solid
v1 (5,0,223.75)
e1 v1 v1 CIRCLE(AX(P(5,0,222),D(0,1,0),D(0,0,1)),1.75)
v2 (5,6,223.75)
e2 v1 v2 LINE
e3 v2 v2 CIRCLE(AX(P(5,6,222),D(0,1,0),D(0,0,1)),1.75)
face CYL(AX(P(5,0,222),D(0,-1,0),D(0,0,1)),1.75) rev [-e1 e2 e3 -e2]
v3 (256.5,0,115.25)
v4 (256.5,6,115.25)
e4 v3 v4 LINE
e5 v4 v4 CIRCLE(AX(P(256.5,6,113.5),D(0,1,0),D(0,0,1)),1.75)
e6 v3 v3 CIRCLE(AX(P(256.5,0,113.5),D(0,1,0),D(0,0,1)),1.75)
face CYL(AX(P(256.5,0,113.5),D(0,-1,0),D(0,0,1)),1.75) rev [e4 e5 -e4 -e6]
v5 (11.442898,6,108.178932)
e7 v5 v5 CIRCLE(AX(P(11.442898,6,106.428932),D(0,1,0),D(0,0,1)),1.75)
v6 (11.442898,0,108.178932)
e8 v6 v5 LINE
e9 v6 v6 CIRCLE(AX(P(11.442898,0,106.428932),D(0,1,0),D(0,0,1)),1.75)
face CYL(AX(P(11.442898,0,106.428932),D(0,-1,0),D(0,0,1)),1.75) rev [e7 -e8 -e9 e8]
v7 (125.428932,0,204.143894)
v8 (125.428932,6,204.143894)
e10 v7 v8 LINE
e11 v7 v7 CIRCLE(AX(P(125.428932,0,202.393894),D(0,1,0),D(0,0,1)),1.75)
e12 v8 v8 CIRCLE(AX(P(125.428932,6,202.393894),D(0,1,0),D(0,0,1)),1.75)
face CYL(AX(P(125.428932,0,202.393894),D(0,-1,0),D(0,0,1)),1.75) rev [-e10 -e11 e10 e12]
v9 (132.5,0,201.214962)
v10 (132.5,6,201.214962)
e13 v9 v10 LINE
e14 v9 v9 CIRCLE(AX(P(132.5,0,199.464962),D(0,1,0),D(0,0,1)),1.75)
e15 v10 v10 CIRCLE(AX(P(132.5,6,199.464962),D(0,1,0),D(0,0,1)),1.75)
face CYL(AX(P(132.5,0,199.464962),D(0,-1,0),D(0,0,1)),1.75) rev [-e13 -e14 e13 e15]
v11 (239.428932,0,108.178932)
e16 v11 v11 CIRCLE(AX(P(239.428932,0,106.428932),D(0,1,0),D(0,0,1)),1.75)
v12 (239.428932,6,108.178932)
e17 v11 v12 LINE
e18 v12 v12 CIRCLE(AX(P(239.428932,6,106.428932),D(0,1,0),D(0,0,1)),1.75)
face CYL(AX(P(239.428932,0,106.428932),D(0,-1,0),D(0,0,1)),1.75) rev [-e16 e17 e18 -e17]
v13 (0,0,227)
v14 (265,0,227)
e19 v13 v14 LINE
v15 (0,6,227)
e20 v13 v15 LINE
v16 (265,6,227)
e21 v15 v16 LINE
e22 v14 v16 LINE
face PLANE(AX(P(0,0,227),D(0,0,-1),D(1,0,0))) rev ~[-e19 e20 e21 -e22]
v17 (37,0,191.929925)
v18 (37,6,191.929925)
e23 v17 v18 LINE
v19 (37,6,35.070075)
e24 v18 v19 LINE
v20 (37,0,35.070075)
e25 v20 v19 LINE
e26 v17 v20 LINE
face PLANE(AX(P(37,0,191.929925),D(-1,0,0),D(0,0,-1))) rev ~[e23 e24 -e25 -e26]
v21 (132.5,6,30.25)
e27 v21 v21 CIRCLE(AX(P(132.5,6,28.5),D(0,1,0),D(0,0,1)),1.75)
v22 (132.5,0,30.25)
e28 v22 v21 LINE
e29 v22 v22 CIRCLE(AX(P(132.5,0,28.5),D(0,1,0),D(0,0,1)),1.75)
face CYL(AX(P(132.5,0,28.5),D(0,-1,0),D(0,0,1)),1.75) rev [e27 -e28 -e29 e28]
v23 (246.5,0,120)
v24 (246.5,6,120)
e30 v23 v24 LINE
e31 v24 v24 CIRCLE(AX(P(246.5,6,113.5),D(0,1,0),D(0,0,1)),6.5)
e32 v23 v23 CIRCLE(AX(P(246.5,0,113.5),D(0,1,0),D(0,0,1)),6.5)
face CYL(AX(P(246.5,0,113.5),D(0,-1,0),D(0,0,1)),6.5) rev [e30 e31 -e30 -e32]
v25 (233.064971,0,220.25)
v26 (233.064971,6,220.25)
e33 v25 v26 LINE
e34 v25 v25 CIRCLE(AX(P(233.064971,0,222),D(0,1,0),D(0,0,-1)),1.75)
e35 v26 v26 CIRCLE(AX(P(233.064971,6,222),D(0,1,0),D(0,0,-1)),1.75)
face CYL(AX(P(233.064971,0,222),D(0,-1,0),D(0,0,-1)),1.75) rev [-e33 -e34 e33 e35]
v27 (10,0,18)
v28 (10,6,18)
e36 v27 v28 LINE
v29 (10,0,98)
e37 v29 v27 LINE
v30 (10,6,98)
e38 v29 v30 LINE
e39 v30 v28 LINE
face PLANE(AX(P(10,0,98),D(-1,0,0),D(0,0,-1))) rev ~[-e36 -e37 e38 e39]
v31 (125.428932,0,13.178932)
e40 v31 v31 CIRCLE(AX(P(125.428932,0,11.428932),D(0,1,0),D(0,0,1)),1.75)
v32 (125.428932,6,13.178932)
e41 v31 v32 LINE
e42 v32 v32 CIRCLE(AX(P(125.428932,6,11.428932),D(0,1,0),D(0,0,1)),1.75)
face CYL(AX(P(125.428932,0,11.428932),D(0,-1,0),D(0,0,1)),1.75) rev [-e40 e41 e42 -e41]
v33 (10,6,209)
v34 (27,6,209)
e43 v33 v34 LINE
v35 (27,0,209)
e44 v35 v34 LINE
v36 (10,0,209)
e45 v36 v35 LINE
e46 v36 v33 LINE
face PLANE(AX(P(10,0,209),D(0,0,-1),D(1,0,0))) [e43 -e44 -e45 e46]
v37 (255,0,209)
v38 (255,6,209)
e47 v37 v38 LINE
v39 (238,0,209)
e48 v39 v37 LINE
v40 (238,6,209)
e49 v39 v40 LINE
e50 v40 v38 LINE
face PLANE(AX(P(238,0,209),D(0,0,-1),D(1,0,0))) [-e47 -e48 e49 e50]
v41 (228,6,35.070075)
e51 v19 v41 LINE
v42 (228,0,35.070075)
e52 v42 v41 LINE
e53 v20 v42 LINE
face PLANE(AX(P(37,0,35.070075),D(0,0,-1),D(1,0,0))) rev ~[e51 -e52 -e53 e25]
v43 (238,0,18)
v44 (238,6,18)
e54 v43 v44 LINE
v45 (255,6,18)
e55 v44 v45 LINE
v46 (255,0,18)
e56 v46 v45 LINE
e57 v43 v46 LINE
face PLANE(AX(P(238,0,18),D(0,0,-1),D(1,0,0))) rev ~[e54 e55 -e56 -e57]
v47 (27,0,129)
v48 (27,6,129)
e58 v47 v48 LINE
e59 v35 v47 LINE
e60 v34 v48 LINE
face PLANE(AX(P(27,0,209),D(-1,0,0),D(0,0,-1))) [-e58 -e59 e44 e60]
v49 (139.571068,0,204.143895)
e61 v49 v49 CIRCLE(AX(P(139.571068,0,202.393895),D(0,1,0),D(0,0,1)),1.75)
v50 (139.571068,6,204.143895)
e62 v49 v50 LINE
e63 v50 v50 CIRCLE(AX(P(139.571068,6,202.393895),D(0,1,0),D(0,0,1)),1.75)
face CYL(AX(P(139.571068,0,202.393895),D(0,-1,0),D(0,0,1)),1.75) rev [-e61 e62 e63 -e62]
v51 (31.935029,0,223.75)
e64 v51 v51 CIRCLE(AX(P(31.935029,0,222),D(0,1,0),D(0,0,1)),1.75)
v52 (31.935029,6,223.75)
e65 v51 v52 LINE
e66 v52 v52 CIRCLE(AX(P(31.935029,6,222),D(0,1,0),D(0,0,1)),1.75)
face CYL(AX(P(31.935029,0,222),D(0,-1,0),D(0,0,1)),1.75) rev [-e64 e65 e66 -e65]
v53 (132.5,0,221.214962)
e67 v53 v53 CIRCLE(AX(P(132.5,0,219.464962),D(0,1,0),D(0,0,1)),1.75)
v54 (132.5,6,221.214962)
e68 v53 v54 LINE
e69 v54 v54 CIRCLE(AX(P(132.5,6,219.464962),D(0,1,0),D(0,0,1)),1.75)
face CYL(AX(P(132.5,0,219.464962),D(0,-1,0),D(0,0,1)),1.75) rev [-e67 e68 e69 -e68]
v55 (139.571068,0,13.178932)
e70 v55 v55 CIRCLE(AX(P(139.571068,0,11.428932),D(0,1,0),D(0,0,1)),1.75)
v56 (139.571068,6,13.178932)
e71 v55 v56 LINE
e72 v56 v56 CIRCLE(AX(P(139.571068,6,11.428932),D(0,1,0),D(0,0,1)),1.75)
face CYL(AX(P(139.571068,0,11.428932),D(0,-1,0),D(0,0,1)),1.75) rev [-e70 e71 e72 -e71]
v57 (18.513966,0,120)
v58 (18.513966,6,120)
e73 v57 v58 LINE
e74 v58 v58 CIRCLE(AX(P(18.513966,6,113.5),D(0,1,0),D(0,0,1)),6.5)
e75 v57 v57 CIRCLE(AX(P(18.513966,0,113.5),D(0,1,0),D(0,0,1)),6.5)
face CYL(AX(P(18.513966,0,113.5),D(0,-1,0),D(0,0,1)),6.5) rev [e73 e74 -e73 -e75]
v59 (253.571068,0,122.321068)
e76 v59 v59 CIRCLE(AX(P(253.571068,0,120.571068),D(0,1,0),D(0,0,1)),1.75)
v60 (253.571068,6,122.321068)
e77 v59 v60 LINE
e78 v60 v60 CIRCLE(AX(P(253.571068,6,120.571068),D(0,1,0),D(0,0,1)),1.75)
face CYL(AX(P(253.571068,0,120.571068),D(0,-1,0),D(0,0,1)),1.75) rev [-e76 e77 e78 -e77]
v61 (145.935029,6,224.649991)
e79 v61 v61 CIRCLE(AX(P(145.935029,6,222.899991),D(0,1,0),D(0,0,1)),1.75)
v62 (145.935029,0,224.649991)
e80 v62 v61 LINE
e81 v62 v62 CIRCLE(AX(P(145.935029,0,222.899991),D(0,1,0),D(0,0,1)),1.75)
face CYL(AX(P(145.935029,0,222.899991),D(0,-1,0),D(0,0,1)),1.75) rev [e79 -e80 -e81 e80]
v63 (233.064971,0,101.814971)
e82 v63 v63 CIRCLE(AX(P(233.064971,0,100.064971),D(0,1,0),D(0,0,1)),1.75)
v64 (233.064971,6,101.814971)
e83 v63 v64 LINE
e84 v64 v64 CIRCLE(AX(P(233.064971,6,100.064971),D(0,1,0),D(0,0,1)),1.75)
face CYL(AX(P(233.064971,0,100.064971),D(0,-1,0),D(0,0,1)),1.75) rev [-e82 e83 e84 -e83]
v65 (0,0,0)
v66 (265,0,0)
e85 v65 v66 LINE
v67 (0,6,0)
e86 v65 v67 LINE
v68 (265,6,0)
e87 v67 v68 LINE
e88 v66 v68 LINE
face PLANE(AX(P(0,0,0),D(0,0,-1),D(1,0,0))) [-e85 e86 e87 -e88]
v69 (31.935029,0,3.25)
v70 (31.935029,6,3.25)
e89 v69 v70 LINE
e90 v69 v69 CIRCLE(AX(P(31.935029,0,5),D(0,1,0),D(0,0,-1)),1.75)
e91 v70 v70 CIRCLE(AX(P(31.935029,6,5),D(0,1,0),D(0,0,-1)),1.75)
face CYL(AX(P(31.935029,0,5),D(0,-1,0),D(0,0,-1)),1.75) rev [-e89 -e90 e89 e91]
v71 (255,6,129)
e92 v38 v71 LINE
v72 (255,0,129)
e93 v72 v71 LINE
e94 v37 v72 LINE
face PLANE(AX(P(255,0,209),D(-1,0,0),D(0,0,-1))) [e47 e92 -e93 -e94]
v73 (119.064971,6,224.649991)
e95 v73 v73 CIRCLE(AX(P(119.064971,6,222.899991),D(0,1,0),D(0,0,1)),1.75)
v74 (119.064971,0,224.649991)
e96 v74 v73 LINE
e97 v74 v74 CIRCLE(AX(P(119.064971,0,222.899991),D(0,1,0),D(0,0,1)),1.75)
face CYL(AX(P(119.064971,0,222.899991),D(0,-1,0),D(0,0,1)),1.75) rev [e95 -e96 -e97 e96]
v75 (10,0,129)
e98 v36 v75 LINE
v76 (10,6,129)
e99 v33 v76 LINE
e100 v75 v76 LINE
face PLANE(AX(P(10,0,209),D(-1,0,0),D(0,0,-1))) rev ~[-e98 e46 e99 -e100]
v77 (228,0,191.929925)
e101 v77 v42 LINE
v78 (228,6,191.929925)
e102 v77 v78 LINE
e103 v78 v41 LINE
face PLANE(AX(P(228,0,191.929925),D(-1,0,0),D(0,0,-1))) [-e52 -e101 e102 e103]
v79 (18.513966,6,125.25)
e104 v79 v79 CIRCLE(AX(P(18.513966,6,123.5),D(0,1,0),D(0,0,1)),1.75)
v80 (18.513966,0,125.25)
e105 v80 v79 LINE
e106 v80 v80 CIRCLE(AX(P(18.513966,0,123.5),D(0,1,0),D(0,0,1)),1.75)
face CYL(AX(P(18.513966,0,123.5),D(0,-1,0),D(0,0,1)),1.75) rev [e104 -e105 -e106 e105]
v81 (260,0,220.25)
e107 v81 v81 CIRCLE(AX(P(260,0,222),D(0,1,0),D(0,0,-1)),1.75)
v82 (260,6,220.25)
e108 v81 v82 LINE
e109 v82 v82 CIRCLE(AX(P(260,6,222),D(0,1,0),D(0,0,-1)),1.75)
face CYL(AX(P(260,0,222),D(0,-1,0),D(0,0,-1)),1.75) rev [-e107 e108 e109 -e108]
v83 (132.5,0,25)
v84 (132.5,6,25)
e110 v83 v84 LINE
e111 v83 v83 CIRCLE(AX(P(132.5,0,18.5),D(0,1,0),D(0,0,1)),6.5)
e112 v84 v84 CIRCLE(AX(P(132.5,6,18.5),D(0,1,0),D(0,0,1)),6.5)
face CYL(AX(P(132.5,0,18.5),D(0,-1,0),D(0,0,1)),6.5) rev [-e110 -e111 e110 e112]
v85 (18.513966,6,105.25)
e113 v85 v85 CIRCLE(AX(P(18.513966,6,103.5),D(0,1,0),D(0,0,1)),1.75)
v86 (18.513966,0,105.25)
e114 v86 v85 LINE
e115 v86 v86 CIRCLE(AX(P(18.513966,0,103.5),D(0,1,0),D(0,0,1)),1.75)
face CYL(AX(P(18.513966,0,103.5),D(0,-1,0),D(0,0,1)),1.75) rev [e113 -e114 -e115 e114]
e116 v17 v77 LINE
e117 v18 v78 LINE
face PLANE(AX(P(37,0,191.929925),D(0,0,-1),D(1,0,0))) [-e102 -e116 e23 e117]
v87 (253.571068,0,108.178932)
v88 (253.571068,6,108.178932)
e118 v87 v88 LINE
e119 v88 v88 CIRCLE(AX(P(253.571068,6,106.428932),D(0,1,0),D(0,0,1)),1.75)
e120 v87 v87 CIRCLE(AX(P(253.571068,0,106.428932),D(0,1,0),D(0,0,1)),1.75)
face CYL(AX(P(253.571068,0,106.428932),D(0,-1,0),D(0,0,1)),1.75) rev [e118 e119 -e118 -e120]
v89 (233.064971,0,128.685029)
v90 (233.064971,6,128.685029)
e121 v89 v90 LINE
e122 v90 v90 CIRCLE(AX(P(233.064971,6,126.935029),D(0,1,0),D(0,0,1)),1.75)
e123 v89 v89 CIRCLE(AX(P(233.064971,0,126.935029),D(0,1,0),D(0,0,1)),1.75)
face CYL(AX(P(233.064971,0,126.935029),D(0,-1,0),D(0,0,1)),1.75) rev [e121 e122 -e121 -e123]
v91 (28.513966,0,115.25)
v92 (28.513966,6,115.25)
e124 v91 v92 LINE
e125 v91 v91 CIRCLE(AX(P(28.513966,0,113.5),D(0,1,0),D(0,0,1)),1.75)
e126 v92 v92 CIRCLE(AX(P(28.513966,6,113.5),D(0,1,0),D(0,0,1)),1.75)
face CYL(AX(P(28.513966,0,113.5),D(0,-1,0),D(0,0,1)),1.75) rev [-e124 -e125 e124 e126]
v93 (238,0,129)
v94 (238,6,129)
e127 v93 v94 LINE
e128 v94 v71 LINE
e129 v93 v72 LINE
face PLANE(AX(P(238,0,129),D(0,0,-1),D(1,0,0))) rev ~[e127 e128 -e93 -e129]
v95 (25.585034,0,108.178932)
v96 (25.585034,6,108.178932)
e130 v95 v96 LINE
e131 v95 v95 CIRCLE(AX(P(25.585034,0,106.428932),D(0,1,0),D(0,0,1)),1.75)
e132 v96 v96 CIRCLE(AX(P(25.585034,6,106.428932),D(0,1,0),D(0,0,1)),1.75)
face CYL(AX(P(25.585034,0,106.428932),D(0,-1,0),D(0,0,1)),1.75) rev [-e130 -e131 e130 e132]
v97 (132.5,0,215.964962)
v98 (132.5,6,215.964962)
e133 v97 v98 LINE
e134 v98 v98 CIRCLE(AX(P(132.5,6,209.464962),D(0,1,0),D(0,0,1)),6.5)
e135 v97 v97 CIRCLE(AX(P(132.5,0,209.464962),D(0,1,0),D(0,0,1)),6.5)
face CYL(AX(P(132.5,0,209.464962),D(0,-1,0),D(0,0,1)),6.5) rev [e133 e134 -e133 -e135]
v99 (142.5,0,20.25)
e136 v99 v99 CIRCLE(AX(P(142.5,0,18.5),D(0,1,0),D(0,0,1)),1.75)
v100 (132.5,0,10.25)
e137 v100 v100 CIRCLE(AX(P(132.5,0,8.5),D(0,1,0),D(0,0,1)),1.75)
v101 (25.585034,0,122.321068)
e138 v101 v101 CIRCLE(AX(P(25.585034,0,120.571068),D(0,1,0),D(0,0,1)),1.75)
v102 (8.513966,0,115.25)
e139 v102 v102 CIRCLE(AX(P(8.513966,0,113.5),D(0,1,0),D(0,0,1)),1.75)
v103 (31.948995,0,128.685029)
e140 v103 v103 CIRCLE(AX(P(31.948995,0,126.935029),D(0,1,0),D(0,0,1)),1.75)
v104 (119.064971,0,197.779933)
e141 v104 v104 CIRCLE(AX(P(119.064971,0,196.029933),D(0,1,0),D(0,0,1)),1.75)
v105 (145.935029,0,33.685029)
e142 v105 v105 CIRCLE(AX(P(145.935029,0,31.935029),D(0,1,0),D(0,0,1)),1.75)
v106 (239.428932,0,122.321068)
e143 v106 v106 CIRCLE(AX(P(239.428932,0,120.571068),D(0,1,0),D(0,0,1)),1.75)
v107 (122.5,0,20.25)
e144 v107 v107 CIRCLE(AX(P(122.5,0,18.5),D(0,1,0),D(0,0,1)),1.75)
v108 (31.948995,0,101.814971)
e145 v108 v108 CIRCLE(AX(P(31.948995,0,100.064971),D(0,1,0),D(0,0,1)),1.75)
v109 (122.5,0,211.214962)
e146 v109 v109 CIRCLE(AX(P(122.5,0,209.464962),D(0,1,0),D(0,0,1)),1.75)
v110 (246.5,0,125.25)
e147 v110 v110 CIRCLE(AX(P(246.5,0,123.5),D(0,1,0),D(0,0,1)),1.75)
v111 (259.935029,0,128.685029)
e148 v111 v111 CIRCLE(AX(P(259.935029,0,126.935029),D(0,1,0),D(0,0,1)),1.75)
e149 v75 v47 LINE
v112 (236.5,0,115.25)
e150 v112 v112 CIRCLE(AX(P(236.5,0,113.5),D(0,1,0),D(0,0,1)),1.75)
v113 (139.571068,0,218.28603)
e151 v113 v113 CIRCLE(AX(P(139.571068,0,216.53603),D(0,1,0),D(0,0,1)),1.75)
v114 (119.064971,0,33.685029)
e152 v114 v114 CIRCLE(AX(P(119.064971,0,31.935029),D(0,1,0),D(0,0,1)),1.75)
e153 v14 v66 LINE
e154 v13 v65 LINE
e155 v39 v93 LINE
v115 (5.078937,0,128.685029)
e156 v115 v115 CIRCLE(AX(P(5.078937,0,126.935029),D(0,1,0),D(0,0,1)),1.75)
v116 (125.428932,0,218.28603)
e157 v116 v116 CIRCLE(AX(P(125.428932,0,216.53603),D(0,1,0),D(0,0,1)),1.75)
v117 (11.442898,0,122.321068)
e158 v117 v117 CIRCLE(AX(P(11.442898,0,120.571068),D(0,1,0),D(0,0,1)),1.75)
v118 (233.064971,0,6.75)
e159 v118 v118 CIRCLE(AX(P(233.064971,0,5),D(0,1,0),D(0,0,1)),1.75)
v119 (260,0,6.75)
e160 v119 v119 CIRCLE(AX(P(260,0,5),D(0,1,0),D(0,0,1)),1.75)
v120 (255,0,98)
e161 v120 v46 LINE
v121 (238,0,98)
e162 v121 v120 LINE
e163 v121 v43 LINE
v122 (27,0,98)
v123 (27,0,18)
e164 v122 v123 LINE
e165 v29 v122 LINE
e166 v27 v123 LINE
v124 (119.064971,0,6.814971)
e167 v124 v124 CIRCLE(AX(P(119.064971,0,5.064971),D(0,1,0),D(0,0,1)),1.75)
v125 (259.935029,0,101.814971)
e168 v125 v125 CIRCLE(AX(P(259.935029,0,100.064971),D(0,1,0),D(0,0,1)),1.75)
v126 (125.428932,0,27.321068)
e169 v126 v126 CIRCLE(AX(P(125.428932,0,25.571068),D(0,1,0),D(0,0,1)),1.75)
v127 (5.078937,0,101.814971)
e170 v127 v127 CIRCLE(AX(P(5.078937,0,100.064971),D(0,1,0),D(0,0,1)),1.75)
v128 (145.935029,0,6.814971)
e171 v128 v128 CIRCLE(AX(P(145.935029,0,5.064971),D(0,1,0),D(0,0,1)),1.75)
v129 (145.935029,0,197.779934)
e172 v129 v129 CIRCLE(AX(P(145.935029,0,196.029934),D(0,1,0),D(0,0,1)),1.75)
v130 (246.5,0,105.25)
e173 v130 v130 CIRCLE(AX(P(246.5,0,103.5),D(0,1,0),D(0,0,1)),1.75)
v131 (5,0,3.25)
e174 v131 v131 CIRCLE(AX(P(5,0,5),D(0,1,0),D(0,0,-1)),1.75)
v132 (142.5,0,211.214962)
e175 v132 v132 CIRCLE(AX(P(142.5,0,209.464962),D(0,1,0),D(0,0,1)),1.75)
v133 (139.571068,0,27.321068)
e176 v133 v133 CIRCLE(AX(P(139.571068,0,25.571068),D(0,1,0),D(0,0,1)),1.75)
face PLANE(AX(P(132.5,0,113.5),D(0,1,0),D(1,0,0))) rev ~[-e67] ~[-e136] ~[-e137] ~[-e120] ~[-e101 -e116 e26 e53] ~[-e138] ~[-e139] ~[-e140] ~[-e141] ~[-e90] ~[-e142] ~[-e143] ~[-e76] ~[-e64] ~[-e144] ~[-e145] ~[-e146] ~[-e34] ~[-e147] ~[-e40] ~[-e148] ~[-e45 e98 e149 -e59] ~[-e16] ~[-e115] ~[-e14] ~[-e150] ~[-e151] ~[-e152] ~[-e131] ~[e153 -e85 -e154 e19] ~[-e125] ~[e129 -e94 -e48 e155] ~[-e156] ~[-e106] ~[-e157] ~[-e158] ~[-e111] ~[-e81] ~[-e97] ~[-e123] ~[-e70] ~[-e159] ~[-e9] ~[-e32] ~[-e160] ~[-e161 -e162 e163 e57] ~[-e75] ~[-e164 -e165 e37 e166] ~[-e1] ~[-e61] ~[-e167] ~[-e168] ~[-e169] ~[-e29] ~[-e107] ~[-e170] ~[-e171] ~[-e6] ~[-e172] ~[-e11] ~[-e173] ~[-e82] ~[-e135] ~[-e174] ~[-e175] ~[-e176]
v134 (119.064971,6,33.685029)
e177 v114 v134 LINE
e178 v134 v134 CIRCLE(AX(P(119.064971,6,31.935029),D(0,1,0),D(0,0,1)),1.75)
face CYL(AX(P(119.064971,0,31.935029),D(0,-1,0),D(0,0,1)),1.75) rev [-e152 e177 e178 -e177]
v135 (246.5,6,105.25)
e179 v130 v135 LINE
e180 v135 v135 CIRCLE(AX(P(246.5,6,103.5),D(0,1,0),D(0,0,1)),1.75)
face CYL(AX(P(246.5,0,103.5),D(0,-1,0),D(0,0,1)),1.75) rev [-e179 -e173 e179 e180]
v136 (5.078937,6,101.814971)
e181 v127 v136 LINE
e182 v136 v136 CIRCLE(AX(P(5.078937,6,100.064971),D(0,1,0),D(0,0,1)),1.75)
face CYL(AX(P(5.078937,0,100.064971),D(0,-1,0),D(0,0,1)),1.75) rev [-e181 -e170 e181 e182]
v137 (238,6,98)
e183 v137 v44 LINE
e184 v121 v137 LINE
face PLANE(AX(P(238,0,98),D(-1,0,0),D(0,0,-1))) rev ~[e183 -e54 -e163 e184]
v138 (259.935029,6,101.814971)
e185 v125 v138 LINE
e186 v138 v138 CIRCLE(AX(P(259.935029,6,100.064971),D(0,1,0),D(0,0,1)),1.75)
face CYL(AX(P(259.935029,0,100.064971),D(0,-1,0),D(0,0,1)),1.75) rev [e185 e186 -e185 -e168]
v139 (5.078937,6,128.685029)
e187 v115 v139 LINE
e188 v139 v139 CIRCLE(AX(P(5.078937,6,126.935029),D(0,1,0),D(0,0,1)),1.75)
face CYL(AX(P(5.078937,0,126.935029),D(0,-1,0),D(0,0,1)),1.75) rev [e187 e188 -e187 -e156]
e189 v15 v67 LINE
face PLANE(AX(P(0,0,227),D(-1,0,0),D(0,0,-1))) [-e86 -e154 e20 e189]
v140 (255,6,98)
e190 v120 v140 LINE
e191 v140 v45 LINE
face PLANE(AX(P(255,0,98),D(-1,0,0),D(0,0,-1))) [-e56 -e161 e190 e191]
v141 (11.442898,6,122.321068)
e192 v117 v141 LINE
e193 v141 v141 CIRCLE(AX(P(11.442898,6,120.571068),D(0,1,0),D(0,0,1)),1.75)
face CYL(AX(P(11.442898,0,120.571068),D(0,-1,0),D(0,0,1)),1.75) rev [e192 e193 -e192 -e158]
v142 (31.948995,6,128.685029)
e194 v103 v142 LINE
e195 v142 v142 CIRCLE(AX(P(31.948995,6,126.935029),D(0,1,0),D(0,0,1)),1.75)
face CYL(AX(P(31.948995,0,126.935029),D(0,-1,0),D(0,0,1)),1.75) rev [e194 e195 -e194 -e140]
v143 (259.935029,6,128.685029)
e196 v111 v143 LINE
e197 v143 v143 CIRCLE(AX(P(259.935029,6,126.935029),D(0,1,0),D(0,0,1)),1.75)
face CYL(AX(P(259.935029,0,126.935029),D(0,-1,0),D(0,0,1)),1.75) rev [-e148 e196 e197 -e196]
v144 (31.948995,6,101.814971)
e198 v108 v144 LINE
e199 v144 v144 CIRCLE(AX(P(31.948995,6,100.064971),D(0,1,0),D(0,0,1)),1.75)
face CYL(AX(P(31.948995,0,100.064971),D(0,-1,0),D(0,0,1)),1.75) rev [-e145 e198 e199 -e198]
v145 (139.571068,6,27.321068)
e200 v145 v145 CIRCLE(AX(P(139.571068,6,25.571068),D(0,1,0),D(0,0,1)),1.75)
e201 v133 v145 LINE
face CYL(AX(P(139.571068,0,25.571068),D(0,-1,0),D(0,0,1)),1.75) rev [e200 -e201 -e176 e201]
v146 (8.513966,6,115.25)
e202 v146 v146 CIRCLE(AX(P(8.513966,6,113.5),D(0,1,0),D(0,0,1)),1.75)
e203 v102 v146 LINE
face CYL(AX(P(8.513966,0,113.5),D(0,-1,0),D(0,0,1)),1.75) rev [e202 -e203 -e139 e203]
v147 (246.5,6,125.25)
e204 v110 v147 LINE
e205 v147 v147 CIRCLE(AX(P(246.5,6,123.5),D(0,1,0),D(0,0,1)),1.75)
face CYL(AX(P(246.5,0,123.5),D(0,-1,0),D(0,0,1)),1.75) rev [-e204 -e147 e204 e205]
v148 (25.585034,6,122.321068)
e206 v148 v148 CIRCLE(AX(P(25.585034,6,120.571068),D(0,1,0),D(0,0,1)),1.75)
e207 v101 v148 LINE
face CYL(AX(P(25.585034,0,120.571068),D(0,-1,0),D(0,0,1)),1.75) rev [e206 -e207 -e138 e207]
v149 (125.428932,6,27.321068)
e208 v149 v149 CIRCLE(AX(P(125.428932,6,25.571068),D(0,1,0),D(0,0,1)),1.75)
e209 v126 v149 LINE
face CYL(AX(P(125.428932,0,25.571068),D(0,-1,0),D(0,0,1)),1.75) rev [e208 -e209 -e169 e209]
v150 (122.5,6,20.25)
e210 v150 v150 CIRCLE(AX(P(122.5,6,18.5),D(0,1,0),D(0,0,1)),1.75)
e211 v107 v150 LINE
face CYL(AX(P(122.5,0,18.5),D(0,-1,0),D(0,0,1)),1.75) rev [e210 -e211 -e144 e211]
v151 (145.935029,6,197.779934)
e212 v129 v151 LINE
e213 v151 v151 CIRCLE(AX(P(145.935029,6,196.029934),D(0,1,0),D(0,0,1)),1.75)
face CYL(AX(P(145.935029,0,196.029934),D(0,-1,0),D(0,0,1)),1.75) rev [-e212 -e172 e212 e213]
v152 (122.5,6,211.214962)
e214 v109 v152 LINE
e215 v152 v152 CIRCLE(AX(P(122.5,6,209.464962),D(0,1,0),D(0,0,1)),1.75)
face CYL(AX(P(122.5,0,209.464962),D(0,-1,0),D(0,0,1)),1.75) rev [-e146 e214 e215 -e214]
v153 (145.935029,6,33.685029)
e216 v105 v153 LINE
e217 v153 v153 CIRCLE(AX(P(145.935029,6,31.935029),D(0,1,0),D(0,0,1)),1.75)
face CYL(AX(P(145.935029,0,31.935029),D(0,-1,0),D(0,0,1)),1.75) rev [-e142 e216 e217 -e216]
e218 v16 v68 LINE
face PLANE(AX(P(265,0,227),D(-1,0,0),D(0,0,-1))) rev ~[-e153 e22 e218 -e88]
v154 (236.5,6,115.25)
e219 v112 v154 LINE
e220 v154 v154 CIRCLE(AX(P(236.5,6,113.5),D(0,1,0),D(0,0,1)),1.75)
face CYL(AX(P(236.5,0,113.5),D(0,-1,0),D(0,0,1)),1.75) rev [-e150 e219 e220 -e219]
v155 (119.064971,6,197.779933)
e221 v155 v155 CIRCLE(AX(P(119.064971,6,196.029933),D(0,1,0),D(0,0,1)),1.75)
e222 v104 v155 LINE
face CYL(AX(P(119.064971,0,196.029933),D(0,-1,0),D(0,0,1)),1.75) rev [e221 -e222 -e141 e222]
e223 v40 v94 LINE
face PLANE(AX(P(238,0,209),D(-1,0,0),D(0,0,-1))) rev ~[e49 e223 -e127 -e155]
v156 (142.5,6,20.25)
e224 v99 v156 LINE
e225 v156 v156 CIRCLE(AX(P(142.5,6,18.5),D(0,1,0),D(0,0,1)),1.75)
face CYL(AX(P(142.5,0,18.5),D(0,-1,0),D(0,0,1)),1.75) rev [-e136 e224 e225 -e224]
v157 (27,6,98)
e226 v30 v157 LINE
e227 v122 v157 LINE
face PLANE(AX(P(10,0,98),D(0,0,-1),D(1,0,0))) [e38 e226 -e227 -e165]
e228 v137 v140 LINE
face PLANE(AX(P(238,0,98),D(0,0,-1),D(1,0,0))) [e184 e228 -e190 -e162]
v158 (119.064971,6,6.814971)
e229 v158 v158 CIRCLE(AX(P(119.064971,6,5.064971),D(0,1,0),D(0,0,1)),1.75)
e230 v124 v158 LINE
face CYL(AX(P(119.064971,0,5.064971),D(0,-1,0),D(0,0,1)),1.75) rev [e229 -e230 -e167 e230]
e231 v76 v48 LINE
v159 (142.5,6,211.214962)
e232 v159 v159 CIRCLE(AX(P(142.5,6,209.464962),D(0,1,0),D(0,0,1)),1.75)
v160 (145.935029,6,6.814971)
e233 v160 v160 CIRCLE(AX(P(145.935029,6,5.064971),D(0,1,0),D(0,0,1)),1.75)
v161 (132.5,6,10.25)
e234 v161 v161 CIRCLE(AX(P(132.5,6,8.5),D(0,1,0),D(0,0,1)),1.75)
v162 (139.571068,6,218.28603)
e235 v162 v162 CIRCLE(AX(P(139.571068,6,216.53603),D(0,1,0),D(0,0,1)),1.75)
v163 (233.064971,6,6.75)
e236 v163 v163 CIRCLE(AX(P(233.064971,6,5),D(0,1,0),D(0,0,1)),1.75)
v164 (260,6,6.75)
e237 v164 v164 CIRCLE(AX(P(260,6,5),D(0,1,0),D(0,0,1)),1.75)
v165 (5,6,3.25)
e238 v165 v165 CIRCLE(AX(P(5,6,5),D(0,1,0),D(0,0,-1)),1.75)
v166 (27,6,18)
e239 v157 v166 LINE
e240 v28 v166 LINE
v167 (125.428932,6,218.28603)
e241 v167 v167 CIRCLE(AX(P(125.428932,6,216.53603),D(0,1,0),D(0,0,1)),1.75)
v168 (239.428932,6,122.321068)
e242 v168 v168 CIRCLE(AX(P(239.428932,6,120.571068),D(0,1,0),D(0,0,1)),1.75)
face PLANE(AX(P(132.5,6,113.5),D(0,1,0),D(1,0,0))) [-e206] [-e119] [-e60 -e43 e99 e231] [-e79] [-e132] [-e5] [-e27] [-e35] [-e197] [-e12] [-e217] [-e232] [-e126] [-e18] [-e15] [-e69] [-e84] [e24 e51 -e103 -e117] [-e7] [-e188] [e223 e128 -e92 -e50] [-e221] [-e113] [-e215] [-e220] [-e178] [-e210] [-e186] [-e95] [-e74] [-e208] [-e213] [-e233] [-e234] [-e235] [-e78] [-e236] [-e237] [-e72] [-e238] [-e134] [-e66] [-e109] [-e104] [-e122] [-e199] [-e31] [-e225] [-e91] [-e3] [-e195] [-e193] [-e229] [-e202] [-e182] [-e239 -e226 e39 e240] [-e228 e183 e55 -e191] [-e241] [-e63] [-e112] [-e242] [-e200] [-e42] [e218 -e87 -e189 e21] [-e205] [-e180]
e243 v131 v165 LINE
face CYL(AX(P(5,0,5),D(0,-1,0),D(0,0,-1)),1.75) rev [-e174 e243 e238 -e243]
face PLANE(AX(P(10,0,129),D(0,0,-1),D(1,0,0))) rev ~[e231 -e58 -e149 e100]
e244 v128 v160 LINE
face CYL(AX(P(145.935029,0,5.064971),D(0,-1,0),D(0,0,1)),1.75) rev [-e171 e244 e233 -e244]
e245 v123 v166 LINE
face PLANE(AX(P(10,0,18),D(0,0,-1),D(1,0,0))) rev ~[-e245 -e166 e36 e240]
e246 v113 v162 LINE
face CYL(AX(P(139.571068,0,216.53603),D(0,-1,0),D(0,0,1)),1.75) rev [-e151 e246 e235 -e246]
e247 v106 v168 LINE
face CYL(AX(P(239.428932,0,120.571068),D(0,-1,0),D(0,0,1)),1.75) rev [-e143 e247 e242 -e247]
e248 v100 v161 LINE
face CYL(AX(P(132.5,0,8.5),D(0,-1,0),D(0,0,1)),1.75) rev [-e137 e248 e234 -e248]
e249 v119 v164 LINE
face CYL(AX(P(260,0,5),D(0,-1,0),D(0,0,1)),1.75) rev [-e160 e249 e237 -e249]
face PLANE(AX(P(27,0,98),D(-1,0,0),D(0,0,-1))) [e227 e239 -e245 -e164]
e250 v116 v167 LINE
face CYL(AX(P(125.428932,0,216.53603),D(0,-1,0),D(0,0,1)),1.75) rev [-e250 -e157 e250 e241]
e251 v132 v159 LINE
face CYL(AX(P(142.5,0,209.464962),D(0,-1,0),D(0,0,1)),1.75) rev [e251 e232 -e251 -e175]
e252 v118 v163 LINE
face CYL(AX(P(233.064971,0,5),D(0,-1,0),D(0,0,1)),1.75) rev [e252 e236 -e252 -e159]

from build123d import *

# Parameters (mm, degrees)
ESQUISSE1_W        = 265
ESQUISSE1_H        = 227
ESQUISSE1_R        = 6.5
ESQUISSE1_R_2      = 1.75
ESQUISSE1_R_3      = 1.749999999
ESQUISSE1_W_2      = 191
ESQUISSE1_H_2      = 156.859849262
ESQUISSE1_W_3      = 17
ESQUISSE1_H_3      = 80
BOSS_EXTRU_1_DEPTH = 6


with BuildPart() as part:
    # Esquisse1 → Boss.-Extru.1 (new body)
    with BuildSketch(Plane(origin=(0, 0, 0), x_dir=(1, 0, 0), z_dir=(0, 1, 0))):
        with Locations((132.5, -113.5)):
            Rectangle(ESQUISSE1_W, ESQUISSE1_H)
        with Locations(Location((246.5, -113.5, 0), (0, 0, 270))):
            Circle(ESQUISSE1_R, mode=Mode.SUBTRACT)
        with Locations(Location((246.5, -103.5, 0), (0, 0, 270))):
            Circle(ESQUISSE1_R_2, mode=Mode.SUBTRACT)
        with Locations(Location((253.571068024, -106.4289324, 0), (0, 0, 270))):
            Circle(ESQUISSE1_R_2, mode=Mode.SUBTRACT)
        with Locations(Location((256.5, -113.5, 0), (0, 0, 270))):
            Circle(ESQUISSE1_R_2, mode=Mode.SUBTRACT)
        with Locations(Location((253.571067812, -120.571067812, 0), (0, 0, 270))):
            Circle(ESQUISSE1_R_2, mode=Mode.SUBTRACT)
        with Locations(Location((246.5, -123.5, 0), (0, 0, 270))):
            Circle(ESQUISSE1_R_2, mode=Mode.SUBTRACT)
        with Locations(Location((239.428932188, -120.571067812, 0), (0, 0, 270))):
            Circle(ESQUISSE1_R_2, mode=Mode.SUBTRACT)
        with Locations(Location((236.5, -113.5, 0), (0, 0, 270))):
            Circle(ESQUISSE1_R_2, mode=Mode.SUBTRACT)
        with Locations(Location((239.42893238, -106.428931957, 0), (0, 0, 270))):
            Circle(ESQUISSE1_R_3, mode=Mode.SUBTRACT)
        with Locations(Location((259.935029054, -100.064971369, 0), (0, 0, 270))):
            Circle(ESQUISSE1_R_2, mode=Mode.SUBTRACT)
        with Locations(Location((259.935028843, -126.935028843, 0), (0, 0, 270))):
            Circle(ESQUISSE1_R_2, mode=Mode.SUBTRACT)
        with Locations(Location((233.064971369, -100.064970946, 0), (0, 0, 270))):
            Circle(ESQUISSE1_R_2, mode=Mode.SUBTRACT)
        with Locations(Location((233.064971157, -126.935028843, 0), (0, 0, 270))):
            Circle(ESQUISSE1_R_2, mode=Mode.SUBTRACT)
        with Locations(Location((132.5, -209.464962315, 0), (0, 0, 270))):
            Circle(ESQUISSE1_R, mode=Mode.SUBTRACT)
        with Locations(Location((132.5, -199.464962315, 0), (0, 0, 270))):
            Circle(ESQUISSE1_R_2, mode=Mode.SUBTRACT)
        with Locations(Location((139.571068024, -202.393894715, 0), (0, 0, 270))):
            Circle(ESQUISSE1_R_2, mode=Mode.SUBTRACT)
        with Locations(Location((142.5, -209.464962315, 0), (0, 0, 270))):
            Circle(ESQUISSE1_R_2, mode=Mode.SUBTRACT)
        with Locations(Location((139.571067812, -216.536030127, 0), (0, 0, 270))):
            Circle(ESQUISSE1_R_2, mode=Mode.SUBTRACT)
        with Locations(Location((132.5, -219.464962315, 0), (0, 0, 270))):
            Circle(ESQUISSE1_R_2, mode=Mode.SUBTRACT)
        with Locations(Location((125.428932188, -216.536030127, 0), (0, 0, 270))):
            Circle(ESQUISSE1_R_2, mode=Mode.SUBTRACT)
        with Locations(Location((122.5, -209.464962315, 0), (0, 0, 270))):
            Circle(ESQUISSE1_R_2, mode=Mode.SUBTRACT)
        with Locations(Location((125.42893238, -202.393894272, 0), (0, 0, 270))):
            Circle(ESQUISSE1_R_3, mode=Mode.SUBTRACT)
        with Locations(Location((145.935029054, -196.029933685, 0), (0, 0, 270))):
            Circle(ESQUISSE1_R_2, mode=Mode.SUBTRACT)
        with Locations(Location((145.935028843, -222.899991158, 0), (0, 0, 270))):
            Circle(ESQUISSE1_R_2, mode=Mode.SUBTRACT)
        with Locations(Location((119.064971369, -196.029933261, 0), (0, 0, 270))):
            Circle(ESQUISSE1_R_2, mode=Mode.SUBTRACT)
        with Locations(Location((119.064971157, -222.899991158, 0), (0, 0, 270))):
            Circle(ESQUISSE1_R_2, mode=Mode.SUBTRACT)
        with Locations(Location((18.513965978, -113.5, 0), (0, 0, 270))):
            Circle(ESQUISSE1_R, mode=Mode.SUBTRACT)
        with Locations(Location((18.513965978, -103.5, 0), (0, 0, 270))):
            Circle(ESQUISSE1_R_2, mode=Mode.SUBTRACT)
        with Locations(Location((25.585034002, -106.4289324, 0), (0, 0, 270))):
            Circle(ESQUISSE1_R_2, mode=Mode.SUBTRACT)
        with Locations(Location((28.513965978, -113.5, 0), (0, 0, 270))):
            Circle(ESQUISSE1_R_2, mode=Mode.SUBTRACT)
        with Locations(Location((25.58503379, -120.571067812, 0), (0, 0, 270))):
            Circle(ESQUISSE1_R_2, mode=Mode.SUBTRACT)
        with Locations(Location((18.513965978, -123.5, 0), (0, 0, 270))):
            Circle(ESQUISSE1_R_2, mode=Mode.SUBTRACT)
        with Locations(Location((11.442898166, -120.571067812, 0), (0, 0, 270))):
            Circle(ESQUISSE1_R_2, mode=Mode.SUBTRACT)
        with Locations(Location((8.513965978, -113.5, 0), (0, 0, 270))):
            Circle(ESQUISSE1_R_2, mode=Mode.SUBTRACT)
        with Locations(Location((11.442898358, -106.428931957, 0), (0, 0, 270))):
            Circle(ESQUISSE1_R_3, mode=Mode.SUBTRACT)
        with Locations(Location((31.948995033, -100.064971369, 0), (0, 0, 270))):
            Circle(ESQUISSE1_R_2, mode=Mode.SUBTRACT)
        with Locations(Location((31.948994821, -126.935028843, 0), (0, 0, 270))):
            Circle(ESQUISSE1_R_2, mode=Mode.SUBTRACT)
        with Locations(Location((5.078937347, -100.064970946, 0), (0, 0, 270))):
            Circle(ESQUISSE1_R_2, mode=Mode.SUBTRACT)
        with Locations(Location((5.078937136, -126.935028843, 0), (0, 0, 270))):
            Circle(ESQUISSE1_R_2, mode=Mode.SUBTRACT)
        with Locations(Location((132.5, -18.5, 0), (0, 0, 270))):
            Circle(ESQUISSE1_R, mode=Mode.SUBTRACT)
        with Locations(Location((132.5, -8.5, 0), (0, 0, 270))):
            Circle(ESQUISSE1_R_2, mode=Mode.SUBTRACT)
        with Locations(Location((139.571068024, -11.4289324, 0), (0, 0, 270))):
            Circle(ESQUISSE1_R_2, mode=Mode.SUBTRACT)
        with Locations(Location((142.5, -18.5, 0), (0, 0, 270))):
            Circle(ESQUISSE1_R_2, mode=Mode.SUBTRACT)
        with Locations(Location((139.571067812, -25.571067812, 0), (0, 0, 270))):
            Circle(ESQUISSE1_R_2, mode=Mode.SUBTRACT)
        with Locations(Location((132.5, -28.5, 0), (0, 0, 270))):
            Circle(ESQUISSE1_R_2, mode=Mode.SUBTRACT)
        with Locations(Location((125.428932188, -25.571067812, 0), (0, 0, 270))):
            Circle(ESQUISSE1_R_2, mode=Mode.SUBTRACT)
        with Locations(Location((122.5, -18.5, 0), (0, 0, 270))):
            Circle(ESQUISSE1_R_2, mode=Mode.SUBTRACT)
        with Locations(Location((125.42893238, -11.428931957, 0), (0, 0, 270))):
            Circle(ESQUISSE1_R_3, mode=Mode.SUBTRACT)
        with Locations(Location((145.935029054, -5.064971369, 0), (0, 0, 270))):
            Circle(ESQUISSE1_R_2, mode=Mode.SUBTRACT)
        with Locations(Location((145.935028843, -31.935028843, 0), (0, 0, 270))):
            Circle(ESQUISSE1_R_2, mode=Mode.SUBTRACT)
        with Locations(Location((119.064971369, -5.064970946, 0), (0, 0, 270))):
            Circle(ESQUISSE1_R_2, mode=Mode.SUBTRACT)
        with Locations(Location((119.064971157, -31.935028843, 0), (0, 0, 270))):
            Circle(ESQUISSE1_R_2, mode=Mode.SUBTRACT)
        with Locations(Location((260, -5, 0), (0, 0, 270))):
            Circle(ESQUISSE1_R_2, mode=Mode.SUBTRACT)
        with Locations(Location((233.064971369, -5, 0), (0, 0, 270))):
            Circle(ESQUISSE1_R_2, mode=Mode.SUBTRACT)
        with Locations(Location((260, -222, 0), (0, 0, 90))):
            Circle(ESQUISSE1_R_2, mode=Mode.SUBTRACT)
        with Locations(Location((233.064971369, -222, 0), (0, 0, 90))):
            Circle(ESQUISSE1_R_2, mode=Mode.SUBTRACT)
        with Locations(Location((5, -5, 0), (0, 0, 90))):
            Circle(ESQUISSE1_R_2, mode=Mode.SUBTRACT)
        with Locations(Location((31.935028631, -5, 0), (0, 0, 90))):
            Circle(ESQUISSE1_R_2, mode=Mode.SUBTRACT)
        with Locations(Location((5, -222, 0), (0, 0, 270))):
            Circle(ESQUISSE1_R_2, mode=Mode.SUBTRACT)
        with Locations(Location((31.935028631, -222, 0), (0, 0, 270))):
            Circle(ESQUISSE1_R_2, mode=Mode.SUBTRACT)
        with Locations((132.5, -113.5)):
            Rectangle(ESQUISSE1_W_2, ESQUISSE1_H_2, mode=Mode.SUBTRACT)
        with Locations((246.5, -58)):
            Rectangle(ESQUISSE1_W_3, ESQUISSE1_H_3, mode=Mode.SUBTRACT)
        with Locations((246.5, -169)):
            Rectangle(ESQUISSE1_W_3, ESQUISSE1_H_3, mode=Mode.SUBTRACT)
        with Locations((18.5, -58)):
            Rectangle(ESQUISSE1_W_3, ESQUISSE1_H_3, mode=Mode.SUBTRACT)
        with Locations((18.5, -169)):
            Rectangle(ESQUISSE1_W_3, ESQUISSE1_H_3, mode=Mode.SUBTRACT)
    extrude(amount=BOSS_EXTRU_1_DEPTH)


solid = part.part
